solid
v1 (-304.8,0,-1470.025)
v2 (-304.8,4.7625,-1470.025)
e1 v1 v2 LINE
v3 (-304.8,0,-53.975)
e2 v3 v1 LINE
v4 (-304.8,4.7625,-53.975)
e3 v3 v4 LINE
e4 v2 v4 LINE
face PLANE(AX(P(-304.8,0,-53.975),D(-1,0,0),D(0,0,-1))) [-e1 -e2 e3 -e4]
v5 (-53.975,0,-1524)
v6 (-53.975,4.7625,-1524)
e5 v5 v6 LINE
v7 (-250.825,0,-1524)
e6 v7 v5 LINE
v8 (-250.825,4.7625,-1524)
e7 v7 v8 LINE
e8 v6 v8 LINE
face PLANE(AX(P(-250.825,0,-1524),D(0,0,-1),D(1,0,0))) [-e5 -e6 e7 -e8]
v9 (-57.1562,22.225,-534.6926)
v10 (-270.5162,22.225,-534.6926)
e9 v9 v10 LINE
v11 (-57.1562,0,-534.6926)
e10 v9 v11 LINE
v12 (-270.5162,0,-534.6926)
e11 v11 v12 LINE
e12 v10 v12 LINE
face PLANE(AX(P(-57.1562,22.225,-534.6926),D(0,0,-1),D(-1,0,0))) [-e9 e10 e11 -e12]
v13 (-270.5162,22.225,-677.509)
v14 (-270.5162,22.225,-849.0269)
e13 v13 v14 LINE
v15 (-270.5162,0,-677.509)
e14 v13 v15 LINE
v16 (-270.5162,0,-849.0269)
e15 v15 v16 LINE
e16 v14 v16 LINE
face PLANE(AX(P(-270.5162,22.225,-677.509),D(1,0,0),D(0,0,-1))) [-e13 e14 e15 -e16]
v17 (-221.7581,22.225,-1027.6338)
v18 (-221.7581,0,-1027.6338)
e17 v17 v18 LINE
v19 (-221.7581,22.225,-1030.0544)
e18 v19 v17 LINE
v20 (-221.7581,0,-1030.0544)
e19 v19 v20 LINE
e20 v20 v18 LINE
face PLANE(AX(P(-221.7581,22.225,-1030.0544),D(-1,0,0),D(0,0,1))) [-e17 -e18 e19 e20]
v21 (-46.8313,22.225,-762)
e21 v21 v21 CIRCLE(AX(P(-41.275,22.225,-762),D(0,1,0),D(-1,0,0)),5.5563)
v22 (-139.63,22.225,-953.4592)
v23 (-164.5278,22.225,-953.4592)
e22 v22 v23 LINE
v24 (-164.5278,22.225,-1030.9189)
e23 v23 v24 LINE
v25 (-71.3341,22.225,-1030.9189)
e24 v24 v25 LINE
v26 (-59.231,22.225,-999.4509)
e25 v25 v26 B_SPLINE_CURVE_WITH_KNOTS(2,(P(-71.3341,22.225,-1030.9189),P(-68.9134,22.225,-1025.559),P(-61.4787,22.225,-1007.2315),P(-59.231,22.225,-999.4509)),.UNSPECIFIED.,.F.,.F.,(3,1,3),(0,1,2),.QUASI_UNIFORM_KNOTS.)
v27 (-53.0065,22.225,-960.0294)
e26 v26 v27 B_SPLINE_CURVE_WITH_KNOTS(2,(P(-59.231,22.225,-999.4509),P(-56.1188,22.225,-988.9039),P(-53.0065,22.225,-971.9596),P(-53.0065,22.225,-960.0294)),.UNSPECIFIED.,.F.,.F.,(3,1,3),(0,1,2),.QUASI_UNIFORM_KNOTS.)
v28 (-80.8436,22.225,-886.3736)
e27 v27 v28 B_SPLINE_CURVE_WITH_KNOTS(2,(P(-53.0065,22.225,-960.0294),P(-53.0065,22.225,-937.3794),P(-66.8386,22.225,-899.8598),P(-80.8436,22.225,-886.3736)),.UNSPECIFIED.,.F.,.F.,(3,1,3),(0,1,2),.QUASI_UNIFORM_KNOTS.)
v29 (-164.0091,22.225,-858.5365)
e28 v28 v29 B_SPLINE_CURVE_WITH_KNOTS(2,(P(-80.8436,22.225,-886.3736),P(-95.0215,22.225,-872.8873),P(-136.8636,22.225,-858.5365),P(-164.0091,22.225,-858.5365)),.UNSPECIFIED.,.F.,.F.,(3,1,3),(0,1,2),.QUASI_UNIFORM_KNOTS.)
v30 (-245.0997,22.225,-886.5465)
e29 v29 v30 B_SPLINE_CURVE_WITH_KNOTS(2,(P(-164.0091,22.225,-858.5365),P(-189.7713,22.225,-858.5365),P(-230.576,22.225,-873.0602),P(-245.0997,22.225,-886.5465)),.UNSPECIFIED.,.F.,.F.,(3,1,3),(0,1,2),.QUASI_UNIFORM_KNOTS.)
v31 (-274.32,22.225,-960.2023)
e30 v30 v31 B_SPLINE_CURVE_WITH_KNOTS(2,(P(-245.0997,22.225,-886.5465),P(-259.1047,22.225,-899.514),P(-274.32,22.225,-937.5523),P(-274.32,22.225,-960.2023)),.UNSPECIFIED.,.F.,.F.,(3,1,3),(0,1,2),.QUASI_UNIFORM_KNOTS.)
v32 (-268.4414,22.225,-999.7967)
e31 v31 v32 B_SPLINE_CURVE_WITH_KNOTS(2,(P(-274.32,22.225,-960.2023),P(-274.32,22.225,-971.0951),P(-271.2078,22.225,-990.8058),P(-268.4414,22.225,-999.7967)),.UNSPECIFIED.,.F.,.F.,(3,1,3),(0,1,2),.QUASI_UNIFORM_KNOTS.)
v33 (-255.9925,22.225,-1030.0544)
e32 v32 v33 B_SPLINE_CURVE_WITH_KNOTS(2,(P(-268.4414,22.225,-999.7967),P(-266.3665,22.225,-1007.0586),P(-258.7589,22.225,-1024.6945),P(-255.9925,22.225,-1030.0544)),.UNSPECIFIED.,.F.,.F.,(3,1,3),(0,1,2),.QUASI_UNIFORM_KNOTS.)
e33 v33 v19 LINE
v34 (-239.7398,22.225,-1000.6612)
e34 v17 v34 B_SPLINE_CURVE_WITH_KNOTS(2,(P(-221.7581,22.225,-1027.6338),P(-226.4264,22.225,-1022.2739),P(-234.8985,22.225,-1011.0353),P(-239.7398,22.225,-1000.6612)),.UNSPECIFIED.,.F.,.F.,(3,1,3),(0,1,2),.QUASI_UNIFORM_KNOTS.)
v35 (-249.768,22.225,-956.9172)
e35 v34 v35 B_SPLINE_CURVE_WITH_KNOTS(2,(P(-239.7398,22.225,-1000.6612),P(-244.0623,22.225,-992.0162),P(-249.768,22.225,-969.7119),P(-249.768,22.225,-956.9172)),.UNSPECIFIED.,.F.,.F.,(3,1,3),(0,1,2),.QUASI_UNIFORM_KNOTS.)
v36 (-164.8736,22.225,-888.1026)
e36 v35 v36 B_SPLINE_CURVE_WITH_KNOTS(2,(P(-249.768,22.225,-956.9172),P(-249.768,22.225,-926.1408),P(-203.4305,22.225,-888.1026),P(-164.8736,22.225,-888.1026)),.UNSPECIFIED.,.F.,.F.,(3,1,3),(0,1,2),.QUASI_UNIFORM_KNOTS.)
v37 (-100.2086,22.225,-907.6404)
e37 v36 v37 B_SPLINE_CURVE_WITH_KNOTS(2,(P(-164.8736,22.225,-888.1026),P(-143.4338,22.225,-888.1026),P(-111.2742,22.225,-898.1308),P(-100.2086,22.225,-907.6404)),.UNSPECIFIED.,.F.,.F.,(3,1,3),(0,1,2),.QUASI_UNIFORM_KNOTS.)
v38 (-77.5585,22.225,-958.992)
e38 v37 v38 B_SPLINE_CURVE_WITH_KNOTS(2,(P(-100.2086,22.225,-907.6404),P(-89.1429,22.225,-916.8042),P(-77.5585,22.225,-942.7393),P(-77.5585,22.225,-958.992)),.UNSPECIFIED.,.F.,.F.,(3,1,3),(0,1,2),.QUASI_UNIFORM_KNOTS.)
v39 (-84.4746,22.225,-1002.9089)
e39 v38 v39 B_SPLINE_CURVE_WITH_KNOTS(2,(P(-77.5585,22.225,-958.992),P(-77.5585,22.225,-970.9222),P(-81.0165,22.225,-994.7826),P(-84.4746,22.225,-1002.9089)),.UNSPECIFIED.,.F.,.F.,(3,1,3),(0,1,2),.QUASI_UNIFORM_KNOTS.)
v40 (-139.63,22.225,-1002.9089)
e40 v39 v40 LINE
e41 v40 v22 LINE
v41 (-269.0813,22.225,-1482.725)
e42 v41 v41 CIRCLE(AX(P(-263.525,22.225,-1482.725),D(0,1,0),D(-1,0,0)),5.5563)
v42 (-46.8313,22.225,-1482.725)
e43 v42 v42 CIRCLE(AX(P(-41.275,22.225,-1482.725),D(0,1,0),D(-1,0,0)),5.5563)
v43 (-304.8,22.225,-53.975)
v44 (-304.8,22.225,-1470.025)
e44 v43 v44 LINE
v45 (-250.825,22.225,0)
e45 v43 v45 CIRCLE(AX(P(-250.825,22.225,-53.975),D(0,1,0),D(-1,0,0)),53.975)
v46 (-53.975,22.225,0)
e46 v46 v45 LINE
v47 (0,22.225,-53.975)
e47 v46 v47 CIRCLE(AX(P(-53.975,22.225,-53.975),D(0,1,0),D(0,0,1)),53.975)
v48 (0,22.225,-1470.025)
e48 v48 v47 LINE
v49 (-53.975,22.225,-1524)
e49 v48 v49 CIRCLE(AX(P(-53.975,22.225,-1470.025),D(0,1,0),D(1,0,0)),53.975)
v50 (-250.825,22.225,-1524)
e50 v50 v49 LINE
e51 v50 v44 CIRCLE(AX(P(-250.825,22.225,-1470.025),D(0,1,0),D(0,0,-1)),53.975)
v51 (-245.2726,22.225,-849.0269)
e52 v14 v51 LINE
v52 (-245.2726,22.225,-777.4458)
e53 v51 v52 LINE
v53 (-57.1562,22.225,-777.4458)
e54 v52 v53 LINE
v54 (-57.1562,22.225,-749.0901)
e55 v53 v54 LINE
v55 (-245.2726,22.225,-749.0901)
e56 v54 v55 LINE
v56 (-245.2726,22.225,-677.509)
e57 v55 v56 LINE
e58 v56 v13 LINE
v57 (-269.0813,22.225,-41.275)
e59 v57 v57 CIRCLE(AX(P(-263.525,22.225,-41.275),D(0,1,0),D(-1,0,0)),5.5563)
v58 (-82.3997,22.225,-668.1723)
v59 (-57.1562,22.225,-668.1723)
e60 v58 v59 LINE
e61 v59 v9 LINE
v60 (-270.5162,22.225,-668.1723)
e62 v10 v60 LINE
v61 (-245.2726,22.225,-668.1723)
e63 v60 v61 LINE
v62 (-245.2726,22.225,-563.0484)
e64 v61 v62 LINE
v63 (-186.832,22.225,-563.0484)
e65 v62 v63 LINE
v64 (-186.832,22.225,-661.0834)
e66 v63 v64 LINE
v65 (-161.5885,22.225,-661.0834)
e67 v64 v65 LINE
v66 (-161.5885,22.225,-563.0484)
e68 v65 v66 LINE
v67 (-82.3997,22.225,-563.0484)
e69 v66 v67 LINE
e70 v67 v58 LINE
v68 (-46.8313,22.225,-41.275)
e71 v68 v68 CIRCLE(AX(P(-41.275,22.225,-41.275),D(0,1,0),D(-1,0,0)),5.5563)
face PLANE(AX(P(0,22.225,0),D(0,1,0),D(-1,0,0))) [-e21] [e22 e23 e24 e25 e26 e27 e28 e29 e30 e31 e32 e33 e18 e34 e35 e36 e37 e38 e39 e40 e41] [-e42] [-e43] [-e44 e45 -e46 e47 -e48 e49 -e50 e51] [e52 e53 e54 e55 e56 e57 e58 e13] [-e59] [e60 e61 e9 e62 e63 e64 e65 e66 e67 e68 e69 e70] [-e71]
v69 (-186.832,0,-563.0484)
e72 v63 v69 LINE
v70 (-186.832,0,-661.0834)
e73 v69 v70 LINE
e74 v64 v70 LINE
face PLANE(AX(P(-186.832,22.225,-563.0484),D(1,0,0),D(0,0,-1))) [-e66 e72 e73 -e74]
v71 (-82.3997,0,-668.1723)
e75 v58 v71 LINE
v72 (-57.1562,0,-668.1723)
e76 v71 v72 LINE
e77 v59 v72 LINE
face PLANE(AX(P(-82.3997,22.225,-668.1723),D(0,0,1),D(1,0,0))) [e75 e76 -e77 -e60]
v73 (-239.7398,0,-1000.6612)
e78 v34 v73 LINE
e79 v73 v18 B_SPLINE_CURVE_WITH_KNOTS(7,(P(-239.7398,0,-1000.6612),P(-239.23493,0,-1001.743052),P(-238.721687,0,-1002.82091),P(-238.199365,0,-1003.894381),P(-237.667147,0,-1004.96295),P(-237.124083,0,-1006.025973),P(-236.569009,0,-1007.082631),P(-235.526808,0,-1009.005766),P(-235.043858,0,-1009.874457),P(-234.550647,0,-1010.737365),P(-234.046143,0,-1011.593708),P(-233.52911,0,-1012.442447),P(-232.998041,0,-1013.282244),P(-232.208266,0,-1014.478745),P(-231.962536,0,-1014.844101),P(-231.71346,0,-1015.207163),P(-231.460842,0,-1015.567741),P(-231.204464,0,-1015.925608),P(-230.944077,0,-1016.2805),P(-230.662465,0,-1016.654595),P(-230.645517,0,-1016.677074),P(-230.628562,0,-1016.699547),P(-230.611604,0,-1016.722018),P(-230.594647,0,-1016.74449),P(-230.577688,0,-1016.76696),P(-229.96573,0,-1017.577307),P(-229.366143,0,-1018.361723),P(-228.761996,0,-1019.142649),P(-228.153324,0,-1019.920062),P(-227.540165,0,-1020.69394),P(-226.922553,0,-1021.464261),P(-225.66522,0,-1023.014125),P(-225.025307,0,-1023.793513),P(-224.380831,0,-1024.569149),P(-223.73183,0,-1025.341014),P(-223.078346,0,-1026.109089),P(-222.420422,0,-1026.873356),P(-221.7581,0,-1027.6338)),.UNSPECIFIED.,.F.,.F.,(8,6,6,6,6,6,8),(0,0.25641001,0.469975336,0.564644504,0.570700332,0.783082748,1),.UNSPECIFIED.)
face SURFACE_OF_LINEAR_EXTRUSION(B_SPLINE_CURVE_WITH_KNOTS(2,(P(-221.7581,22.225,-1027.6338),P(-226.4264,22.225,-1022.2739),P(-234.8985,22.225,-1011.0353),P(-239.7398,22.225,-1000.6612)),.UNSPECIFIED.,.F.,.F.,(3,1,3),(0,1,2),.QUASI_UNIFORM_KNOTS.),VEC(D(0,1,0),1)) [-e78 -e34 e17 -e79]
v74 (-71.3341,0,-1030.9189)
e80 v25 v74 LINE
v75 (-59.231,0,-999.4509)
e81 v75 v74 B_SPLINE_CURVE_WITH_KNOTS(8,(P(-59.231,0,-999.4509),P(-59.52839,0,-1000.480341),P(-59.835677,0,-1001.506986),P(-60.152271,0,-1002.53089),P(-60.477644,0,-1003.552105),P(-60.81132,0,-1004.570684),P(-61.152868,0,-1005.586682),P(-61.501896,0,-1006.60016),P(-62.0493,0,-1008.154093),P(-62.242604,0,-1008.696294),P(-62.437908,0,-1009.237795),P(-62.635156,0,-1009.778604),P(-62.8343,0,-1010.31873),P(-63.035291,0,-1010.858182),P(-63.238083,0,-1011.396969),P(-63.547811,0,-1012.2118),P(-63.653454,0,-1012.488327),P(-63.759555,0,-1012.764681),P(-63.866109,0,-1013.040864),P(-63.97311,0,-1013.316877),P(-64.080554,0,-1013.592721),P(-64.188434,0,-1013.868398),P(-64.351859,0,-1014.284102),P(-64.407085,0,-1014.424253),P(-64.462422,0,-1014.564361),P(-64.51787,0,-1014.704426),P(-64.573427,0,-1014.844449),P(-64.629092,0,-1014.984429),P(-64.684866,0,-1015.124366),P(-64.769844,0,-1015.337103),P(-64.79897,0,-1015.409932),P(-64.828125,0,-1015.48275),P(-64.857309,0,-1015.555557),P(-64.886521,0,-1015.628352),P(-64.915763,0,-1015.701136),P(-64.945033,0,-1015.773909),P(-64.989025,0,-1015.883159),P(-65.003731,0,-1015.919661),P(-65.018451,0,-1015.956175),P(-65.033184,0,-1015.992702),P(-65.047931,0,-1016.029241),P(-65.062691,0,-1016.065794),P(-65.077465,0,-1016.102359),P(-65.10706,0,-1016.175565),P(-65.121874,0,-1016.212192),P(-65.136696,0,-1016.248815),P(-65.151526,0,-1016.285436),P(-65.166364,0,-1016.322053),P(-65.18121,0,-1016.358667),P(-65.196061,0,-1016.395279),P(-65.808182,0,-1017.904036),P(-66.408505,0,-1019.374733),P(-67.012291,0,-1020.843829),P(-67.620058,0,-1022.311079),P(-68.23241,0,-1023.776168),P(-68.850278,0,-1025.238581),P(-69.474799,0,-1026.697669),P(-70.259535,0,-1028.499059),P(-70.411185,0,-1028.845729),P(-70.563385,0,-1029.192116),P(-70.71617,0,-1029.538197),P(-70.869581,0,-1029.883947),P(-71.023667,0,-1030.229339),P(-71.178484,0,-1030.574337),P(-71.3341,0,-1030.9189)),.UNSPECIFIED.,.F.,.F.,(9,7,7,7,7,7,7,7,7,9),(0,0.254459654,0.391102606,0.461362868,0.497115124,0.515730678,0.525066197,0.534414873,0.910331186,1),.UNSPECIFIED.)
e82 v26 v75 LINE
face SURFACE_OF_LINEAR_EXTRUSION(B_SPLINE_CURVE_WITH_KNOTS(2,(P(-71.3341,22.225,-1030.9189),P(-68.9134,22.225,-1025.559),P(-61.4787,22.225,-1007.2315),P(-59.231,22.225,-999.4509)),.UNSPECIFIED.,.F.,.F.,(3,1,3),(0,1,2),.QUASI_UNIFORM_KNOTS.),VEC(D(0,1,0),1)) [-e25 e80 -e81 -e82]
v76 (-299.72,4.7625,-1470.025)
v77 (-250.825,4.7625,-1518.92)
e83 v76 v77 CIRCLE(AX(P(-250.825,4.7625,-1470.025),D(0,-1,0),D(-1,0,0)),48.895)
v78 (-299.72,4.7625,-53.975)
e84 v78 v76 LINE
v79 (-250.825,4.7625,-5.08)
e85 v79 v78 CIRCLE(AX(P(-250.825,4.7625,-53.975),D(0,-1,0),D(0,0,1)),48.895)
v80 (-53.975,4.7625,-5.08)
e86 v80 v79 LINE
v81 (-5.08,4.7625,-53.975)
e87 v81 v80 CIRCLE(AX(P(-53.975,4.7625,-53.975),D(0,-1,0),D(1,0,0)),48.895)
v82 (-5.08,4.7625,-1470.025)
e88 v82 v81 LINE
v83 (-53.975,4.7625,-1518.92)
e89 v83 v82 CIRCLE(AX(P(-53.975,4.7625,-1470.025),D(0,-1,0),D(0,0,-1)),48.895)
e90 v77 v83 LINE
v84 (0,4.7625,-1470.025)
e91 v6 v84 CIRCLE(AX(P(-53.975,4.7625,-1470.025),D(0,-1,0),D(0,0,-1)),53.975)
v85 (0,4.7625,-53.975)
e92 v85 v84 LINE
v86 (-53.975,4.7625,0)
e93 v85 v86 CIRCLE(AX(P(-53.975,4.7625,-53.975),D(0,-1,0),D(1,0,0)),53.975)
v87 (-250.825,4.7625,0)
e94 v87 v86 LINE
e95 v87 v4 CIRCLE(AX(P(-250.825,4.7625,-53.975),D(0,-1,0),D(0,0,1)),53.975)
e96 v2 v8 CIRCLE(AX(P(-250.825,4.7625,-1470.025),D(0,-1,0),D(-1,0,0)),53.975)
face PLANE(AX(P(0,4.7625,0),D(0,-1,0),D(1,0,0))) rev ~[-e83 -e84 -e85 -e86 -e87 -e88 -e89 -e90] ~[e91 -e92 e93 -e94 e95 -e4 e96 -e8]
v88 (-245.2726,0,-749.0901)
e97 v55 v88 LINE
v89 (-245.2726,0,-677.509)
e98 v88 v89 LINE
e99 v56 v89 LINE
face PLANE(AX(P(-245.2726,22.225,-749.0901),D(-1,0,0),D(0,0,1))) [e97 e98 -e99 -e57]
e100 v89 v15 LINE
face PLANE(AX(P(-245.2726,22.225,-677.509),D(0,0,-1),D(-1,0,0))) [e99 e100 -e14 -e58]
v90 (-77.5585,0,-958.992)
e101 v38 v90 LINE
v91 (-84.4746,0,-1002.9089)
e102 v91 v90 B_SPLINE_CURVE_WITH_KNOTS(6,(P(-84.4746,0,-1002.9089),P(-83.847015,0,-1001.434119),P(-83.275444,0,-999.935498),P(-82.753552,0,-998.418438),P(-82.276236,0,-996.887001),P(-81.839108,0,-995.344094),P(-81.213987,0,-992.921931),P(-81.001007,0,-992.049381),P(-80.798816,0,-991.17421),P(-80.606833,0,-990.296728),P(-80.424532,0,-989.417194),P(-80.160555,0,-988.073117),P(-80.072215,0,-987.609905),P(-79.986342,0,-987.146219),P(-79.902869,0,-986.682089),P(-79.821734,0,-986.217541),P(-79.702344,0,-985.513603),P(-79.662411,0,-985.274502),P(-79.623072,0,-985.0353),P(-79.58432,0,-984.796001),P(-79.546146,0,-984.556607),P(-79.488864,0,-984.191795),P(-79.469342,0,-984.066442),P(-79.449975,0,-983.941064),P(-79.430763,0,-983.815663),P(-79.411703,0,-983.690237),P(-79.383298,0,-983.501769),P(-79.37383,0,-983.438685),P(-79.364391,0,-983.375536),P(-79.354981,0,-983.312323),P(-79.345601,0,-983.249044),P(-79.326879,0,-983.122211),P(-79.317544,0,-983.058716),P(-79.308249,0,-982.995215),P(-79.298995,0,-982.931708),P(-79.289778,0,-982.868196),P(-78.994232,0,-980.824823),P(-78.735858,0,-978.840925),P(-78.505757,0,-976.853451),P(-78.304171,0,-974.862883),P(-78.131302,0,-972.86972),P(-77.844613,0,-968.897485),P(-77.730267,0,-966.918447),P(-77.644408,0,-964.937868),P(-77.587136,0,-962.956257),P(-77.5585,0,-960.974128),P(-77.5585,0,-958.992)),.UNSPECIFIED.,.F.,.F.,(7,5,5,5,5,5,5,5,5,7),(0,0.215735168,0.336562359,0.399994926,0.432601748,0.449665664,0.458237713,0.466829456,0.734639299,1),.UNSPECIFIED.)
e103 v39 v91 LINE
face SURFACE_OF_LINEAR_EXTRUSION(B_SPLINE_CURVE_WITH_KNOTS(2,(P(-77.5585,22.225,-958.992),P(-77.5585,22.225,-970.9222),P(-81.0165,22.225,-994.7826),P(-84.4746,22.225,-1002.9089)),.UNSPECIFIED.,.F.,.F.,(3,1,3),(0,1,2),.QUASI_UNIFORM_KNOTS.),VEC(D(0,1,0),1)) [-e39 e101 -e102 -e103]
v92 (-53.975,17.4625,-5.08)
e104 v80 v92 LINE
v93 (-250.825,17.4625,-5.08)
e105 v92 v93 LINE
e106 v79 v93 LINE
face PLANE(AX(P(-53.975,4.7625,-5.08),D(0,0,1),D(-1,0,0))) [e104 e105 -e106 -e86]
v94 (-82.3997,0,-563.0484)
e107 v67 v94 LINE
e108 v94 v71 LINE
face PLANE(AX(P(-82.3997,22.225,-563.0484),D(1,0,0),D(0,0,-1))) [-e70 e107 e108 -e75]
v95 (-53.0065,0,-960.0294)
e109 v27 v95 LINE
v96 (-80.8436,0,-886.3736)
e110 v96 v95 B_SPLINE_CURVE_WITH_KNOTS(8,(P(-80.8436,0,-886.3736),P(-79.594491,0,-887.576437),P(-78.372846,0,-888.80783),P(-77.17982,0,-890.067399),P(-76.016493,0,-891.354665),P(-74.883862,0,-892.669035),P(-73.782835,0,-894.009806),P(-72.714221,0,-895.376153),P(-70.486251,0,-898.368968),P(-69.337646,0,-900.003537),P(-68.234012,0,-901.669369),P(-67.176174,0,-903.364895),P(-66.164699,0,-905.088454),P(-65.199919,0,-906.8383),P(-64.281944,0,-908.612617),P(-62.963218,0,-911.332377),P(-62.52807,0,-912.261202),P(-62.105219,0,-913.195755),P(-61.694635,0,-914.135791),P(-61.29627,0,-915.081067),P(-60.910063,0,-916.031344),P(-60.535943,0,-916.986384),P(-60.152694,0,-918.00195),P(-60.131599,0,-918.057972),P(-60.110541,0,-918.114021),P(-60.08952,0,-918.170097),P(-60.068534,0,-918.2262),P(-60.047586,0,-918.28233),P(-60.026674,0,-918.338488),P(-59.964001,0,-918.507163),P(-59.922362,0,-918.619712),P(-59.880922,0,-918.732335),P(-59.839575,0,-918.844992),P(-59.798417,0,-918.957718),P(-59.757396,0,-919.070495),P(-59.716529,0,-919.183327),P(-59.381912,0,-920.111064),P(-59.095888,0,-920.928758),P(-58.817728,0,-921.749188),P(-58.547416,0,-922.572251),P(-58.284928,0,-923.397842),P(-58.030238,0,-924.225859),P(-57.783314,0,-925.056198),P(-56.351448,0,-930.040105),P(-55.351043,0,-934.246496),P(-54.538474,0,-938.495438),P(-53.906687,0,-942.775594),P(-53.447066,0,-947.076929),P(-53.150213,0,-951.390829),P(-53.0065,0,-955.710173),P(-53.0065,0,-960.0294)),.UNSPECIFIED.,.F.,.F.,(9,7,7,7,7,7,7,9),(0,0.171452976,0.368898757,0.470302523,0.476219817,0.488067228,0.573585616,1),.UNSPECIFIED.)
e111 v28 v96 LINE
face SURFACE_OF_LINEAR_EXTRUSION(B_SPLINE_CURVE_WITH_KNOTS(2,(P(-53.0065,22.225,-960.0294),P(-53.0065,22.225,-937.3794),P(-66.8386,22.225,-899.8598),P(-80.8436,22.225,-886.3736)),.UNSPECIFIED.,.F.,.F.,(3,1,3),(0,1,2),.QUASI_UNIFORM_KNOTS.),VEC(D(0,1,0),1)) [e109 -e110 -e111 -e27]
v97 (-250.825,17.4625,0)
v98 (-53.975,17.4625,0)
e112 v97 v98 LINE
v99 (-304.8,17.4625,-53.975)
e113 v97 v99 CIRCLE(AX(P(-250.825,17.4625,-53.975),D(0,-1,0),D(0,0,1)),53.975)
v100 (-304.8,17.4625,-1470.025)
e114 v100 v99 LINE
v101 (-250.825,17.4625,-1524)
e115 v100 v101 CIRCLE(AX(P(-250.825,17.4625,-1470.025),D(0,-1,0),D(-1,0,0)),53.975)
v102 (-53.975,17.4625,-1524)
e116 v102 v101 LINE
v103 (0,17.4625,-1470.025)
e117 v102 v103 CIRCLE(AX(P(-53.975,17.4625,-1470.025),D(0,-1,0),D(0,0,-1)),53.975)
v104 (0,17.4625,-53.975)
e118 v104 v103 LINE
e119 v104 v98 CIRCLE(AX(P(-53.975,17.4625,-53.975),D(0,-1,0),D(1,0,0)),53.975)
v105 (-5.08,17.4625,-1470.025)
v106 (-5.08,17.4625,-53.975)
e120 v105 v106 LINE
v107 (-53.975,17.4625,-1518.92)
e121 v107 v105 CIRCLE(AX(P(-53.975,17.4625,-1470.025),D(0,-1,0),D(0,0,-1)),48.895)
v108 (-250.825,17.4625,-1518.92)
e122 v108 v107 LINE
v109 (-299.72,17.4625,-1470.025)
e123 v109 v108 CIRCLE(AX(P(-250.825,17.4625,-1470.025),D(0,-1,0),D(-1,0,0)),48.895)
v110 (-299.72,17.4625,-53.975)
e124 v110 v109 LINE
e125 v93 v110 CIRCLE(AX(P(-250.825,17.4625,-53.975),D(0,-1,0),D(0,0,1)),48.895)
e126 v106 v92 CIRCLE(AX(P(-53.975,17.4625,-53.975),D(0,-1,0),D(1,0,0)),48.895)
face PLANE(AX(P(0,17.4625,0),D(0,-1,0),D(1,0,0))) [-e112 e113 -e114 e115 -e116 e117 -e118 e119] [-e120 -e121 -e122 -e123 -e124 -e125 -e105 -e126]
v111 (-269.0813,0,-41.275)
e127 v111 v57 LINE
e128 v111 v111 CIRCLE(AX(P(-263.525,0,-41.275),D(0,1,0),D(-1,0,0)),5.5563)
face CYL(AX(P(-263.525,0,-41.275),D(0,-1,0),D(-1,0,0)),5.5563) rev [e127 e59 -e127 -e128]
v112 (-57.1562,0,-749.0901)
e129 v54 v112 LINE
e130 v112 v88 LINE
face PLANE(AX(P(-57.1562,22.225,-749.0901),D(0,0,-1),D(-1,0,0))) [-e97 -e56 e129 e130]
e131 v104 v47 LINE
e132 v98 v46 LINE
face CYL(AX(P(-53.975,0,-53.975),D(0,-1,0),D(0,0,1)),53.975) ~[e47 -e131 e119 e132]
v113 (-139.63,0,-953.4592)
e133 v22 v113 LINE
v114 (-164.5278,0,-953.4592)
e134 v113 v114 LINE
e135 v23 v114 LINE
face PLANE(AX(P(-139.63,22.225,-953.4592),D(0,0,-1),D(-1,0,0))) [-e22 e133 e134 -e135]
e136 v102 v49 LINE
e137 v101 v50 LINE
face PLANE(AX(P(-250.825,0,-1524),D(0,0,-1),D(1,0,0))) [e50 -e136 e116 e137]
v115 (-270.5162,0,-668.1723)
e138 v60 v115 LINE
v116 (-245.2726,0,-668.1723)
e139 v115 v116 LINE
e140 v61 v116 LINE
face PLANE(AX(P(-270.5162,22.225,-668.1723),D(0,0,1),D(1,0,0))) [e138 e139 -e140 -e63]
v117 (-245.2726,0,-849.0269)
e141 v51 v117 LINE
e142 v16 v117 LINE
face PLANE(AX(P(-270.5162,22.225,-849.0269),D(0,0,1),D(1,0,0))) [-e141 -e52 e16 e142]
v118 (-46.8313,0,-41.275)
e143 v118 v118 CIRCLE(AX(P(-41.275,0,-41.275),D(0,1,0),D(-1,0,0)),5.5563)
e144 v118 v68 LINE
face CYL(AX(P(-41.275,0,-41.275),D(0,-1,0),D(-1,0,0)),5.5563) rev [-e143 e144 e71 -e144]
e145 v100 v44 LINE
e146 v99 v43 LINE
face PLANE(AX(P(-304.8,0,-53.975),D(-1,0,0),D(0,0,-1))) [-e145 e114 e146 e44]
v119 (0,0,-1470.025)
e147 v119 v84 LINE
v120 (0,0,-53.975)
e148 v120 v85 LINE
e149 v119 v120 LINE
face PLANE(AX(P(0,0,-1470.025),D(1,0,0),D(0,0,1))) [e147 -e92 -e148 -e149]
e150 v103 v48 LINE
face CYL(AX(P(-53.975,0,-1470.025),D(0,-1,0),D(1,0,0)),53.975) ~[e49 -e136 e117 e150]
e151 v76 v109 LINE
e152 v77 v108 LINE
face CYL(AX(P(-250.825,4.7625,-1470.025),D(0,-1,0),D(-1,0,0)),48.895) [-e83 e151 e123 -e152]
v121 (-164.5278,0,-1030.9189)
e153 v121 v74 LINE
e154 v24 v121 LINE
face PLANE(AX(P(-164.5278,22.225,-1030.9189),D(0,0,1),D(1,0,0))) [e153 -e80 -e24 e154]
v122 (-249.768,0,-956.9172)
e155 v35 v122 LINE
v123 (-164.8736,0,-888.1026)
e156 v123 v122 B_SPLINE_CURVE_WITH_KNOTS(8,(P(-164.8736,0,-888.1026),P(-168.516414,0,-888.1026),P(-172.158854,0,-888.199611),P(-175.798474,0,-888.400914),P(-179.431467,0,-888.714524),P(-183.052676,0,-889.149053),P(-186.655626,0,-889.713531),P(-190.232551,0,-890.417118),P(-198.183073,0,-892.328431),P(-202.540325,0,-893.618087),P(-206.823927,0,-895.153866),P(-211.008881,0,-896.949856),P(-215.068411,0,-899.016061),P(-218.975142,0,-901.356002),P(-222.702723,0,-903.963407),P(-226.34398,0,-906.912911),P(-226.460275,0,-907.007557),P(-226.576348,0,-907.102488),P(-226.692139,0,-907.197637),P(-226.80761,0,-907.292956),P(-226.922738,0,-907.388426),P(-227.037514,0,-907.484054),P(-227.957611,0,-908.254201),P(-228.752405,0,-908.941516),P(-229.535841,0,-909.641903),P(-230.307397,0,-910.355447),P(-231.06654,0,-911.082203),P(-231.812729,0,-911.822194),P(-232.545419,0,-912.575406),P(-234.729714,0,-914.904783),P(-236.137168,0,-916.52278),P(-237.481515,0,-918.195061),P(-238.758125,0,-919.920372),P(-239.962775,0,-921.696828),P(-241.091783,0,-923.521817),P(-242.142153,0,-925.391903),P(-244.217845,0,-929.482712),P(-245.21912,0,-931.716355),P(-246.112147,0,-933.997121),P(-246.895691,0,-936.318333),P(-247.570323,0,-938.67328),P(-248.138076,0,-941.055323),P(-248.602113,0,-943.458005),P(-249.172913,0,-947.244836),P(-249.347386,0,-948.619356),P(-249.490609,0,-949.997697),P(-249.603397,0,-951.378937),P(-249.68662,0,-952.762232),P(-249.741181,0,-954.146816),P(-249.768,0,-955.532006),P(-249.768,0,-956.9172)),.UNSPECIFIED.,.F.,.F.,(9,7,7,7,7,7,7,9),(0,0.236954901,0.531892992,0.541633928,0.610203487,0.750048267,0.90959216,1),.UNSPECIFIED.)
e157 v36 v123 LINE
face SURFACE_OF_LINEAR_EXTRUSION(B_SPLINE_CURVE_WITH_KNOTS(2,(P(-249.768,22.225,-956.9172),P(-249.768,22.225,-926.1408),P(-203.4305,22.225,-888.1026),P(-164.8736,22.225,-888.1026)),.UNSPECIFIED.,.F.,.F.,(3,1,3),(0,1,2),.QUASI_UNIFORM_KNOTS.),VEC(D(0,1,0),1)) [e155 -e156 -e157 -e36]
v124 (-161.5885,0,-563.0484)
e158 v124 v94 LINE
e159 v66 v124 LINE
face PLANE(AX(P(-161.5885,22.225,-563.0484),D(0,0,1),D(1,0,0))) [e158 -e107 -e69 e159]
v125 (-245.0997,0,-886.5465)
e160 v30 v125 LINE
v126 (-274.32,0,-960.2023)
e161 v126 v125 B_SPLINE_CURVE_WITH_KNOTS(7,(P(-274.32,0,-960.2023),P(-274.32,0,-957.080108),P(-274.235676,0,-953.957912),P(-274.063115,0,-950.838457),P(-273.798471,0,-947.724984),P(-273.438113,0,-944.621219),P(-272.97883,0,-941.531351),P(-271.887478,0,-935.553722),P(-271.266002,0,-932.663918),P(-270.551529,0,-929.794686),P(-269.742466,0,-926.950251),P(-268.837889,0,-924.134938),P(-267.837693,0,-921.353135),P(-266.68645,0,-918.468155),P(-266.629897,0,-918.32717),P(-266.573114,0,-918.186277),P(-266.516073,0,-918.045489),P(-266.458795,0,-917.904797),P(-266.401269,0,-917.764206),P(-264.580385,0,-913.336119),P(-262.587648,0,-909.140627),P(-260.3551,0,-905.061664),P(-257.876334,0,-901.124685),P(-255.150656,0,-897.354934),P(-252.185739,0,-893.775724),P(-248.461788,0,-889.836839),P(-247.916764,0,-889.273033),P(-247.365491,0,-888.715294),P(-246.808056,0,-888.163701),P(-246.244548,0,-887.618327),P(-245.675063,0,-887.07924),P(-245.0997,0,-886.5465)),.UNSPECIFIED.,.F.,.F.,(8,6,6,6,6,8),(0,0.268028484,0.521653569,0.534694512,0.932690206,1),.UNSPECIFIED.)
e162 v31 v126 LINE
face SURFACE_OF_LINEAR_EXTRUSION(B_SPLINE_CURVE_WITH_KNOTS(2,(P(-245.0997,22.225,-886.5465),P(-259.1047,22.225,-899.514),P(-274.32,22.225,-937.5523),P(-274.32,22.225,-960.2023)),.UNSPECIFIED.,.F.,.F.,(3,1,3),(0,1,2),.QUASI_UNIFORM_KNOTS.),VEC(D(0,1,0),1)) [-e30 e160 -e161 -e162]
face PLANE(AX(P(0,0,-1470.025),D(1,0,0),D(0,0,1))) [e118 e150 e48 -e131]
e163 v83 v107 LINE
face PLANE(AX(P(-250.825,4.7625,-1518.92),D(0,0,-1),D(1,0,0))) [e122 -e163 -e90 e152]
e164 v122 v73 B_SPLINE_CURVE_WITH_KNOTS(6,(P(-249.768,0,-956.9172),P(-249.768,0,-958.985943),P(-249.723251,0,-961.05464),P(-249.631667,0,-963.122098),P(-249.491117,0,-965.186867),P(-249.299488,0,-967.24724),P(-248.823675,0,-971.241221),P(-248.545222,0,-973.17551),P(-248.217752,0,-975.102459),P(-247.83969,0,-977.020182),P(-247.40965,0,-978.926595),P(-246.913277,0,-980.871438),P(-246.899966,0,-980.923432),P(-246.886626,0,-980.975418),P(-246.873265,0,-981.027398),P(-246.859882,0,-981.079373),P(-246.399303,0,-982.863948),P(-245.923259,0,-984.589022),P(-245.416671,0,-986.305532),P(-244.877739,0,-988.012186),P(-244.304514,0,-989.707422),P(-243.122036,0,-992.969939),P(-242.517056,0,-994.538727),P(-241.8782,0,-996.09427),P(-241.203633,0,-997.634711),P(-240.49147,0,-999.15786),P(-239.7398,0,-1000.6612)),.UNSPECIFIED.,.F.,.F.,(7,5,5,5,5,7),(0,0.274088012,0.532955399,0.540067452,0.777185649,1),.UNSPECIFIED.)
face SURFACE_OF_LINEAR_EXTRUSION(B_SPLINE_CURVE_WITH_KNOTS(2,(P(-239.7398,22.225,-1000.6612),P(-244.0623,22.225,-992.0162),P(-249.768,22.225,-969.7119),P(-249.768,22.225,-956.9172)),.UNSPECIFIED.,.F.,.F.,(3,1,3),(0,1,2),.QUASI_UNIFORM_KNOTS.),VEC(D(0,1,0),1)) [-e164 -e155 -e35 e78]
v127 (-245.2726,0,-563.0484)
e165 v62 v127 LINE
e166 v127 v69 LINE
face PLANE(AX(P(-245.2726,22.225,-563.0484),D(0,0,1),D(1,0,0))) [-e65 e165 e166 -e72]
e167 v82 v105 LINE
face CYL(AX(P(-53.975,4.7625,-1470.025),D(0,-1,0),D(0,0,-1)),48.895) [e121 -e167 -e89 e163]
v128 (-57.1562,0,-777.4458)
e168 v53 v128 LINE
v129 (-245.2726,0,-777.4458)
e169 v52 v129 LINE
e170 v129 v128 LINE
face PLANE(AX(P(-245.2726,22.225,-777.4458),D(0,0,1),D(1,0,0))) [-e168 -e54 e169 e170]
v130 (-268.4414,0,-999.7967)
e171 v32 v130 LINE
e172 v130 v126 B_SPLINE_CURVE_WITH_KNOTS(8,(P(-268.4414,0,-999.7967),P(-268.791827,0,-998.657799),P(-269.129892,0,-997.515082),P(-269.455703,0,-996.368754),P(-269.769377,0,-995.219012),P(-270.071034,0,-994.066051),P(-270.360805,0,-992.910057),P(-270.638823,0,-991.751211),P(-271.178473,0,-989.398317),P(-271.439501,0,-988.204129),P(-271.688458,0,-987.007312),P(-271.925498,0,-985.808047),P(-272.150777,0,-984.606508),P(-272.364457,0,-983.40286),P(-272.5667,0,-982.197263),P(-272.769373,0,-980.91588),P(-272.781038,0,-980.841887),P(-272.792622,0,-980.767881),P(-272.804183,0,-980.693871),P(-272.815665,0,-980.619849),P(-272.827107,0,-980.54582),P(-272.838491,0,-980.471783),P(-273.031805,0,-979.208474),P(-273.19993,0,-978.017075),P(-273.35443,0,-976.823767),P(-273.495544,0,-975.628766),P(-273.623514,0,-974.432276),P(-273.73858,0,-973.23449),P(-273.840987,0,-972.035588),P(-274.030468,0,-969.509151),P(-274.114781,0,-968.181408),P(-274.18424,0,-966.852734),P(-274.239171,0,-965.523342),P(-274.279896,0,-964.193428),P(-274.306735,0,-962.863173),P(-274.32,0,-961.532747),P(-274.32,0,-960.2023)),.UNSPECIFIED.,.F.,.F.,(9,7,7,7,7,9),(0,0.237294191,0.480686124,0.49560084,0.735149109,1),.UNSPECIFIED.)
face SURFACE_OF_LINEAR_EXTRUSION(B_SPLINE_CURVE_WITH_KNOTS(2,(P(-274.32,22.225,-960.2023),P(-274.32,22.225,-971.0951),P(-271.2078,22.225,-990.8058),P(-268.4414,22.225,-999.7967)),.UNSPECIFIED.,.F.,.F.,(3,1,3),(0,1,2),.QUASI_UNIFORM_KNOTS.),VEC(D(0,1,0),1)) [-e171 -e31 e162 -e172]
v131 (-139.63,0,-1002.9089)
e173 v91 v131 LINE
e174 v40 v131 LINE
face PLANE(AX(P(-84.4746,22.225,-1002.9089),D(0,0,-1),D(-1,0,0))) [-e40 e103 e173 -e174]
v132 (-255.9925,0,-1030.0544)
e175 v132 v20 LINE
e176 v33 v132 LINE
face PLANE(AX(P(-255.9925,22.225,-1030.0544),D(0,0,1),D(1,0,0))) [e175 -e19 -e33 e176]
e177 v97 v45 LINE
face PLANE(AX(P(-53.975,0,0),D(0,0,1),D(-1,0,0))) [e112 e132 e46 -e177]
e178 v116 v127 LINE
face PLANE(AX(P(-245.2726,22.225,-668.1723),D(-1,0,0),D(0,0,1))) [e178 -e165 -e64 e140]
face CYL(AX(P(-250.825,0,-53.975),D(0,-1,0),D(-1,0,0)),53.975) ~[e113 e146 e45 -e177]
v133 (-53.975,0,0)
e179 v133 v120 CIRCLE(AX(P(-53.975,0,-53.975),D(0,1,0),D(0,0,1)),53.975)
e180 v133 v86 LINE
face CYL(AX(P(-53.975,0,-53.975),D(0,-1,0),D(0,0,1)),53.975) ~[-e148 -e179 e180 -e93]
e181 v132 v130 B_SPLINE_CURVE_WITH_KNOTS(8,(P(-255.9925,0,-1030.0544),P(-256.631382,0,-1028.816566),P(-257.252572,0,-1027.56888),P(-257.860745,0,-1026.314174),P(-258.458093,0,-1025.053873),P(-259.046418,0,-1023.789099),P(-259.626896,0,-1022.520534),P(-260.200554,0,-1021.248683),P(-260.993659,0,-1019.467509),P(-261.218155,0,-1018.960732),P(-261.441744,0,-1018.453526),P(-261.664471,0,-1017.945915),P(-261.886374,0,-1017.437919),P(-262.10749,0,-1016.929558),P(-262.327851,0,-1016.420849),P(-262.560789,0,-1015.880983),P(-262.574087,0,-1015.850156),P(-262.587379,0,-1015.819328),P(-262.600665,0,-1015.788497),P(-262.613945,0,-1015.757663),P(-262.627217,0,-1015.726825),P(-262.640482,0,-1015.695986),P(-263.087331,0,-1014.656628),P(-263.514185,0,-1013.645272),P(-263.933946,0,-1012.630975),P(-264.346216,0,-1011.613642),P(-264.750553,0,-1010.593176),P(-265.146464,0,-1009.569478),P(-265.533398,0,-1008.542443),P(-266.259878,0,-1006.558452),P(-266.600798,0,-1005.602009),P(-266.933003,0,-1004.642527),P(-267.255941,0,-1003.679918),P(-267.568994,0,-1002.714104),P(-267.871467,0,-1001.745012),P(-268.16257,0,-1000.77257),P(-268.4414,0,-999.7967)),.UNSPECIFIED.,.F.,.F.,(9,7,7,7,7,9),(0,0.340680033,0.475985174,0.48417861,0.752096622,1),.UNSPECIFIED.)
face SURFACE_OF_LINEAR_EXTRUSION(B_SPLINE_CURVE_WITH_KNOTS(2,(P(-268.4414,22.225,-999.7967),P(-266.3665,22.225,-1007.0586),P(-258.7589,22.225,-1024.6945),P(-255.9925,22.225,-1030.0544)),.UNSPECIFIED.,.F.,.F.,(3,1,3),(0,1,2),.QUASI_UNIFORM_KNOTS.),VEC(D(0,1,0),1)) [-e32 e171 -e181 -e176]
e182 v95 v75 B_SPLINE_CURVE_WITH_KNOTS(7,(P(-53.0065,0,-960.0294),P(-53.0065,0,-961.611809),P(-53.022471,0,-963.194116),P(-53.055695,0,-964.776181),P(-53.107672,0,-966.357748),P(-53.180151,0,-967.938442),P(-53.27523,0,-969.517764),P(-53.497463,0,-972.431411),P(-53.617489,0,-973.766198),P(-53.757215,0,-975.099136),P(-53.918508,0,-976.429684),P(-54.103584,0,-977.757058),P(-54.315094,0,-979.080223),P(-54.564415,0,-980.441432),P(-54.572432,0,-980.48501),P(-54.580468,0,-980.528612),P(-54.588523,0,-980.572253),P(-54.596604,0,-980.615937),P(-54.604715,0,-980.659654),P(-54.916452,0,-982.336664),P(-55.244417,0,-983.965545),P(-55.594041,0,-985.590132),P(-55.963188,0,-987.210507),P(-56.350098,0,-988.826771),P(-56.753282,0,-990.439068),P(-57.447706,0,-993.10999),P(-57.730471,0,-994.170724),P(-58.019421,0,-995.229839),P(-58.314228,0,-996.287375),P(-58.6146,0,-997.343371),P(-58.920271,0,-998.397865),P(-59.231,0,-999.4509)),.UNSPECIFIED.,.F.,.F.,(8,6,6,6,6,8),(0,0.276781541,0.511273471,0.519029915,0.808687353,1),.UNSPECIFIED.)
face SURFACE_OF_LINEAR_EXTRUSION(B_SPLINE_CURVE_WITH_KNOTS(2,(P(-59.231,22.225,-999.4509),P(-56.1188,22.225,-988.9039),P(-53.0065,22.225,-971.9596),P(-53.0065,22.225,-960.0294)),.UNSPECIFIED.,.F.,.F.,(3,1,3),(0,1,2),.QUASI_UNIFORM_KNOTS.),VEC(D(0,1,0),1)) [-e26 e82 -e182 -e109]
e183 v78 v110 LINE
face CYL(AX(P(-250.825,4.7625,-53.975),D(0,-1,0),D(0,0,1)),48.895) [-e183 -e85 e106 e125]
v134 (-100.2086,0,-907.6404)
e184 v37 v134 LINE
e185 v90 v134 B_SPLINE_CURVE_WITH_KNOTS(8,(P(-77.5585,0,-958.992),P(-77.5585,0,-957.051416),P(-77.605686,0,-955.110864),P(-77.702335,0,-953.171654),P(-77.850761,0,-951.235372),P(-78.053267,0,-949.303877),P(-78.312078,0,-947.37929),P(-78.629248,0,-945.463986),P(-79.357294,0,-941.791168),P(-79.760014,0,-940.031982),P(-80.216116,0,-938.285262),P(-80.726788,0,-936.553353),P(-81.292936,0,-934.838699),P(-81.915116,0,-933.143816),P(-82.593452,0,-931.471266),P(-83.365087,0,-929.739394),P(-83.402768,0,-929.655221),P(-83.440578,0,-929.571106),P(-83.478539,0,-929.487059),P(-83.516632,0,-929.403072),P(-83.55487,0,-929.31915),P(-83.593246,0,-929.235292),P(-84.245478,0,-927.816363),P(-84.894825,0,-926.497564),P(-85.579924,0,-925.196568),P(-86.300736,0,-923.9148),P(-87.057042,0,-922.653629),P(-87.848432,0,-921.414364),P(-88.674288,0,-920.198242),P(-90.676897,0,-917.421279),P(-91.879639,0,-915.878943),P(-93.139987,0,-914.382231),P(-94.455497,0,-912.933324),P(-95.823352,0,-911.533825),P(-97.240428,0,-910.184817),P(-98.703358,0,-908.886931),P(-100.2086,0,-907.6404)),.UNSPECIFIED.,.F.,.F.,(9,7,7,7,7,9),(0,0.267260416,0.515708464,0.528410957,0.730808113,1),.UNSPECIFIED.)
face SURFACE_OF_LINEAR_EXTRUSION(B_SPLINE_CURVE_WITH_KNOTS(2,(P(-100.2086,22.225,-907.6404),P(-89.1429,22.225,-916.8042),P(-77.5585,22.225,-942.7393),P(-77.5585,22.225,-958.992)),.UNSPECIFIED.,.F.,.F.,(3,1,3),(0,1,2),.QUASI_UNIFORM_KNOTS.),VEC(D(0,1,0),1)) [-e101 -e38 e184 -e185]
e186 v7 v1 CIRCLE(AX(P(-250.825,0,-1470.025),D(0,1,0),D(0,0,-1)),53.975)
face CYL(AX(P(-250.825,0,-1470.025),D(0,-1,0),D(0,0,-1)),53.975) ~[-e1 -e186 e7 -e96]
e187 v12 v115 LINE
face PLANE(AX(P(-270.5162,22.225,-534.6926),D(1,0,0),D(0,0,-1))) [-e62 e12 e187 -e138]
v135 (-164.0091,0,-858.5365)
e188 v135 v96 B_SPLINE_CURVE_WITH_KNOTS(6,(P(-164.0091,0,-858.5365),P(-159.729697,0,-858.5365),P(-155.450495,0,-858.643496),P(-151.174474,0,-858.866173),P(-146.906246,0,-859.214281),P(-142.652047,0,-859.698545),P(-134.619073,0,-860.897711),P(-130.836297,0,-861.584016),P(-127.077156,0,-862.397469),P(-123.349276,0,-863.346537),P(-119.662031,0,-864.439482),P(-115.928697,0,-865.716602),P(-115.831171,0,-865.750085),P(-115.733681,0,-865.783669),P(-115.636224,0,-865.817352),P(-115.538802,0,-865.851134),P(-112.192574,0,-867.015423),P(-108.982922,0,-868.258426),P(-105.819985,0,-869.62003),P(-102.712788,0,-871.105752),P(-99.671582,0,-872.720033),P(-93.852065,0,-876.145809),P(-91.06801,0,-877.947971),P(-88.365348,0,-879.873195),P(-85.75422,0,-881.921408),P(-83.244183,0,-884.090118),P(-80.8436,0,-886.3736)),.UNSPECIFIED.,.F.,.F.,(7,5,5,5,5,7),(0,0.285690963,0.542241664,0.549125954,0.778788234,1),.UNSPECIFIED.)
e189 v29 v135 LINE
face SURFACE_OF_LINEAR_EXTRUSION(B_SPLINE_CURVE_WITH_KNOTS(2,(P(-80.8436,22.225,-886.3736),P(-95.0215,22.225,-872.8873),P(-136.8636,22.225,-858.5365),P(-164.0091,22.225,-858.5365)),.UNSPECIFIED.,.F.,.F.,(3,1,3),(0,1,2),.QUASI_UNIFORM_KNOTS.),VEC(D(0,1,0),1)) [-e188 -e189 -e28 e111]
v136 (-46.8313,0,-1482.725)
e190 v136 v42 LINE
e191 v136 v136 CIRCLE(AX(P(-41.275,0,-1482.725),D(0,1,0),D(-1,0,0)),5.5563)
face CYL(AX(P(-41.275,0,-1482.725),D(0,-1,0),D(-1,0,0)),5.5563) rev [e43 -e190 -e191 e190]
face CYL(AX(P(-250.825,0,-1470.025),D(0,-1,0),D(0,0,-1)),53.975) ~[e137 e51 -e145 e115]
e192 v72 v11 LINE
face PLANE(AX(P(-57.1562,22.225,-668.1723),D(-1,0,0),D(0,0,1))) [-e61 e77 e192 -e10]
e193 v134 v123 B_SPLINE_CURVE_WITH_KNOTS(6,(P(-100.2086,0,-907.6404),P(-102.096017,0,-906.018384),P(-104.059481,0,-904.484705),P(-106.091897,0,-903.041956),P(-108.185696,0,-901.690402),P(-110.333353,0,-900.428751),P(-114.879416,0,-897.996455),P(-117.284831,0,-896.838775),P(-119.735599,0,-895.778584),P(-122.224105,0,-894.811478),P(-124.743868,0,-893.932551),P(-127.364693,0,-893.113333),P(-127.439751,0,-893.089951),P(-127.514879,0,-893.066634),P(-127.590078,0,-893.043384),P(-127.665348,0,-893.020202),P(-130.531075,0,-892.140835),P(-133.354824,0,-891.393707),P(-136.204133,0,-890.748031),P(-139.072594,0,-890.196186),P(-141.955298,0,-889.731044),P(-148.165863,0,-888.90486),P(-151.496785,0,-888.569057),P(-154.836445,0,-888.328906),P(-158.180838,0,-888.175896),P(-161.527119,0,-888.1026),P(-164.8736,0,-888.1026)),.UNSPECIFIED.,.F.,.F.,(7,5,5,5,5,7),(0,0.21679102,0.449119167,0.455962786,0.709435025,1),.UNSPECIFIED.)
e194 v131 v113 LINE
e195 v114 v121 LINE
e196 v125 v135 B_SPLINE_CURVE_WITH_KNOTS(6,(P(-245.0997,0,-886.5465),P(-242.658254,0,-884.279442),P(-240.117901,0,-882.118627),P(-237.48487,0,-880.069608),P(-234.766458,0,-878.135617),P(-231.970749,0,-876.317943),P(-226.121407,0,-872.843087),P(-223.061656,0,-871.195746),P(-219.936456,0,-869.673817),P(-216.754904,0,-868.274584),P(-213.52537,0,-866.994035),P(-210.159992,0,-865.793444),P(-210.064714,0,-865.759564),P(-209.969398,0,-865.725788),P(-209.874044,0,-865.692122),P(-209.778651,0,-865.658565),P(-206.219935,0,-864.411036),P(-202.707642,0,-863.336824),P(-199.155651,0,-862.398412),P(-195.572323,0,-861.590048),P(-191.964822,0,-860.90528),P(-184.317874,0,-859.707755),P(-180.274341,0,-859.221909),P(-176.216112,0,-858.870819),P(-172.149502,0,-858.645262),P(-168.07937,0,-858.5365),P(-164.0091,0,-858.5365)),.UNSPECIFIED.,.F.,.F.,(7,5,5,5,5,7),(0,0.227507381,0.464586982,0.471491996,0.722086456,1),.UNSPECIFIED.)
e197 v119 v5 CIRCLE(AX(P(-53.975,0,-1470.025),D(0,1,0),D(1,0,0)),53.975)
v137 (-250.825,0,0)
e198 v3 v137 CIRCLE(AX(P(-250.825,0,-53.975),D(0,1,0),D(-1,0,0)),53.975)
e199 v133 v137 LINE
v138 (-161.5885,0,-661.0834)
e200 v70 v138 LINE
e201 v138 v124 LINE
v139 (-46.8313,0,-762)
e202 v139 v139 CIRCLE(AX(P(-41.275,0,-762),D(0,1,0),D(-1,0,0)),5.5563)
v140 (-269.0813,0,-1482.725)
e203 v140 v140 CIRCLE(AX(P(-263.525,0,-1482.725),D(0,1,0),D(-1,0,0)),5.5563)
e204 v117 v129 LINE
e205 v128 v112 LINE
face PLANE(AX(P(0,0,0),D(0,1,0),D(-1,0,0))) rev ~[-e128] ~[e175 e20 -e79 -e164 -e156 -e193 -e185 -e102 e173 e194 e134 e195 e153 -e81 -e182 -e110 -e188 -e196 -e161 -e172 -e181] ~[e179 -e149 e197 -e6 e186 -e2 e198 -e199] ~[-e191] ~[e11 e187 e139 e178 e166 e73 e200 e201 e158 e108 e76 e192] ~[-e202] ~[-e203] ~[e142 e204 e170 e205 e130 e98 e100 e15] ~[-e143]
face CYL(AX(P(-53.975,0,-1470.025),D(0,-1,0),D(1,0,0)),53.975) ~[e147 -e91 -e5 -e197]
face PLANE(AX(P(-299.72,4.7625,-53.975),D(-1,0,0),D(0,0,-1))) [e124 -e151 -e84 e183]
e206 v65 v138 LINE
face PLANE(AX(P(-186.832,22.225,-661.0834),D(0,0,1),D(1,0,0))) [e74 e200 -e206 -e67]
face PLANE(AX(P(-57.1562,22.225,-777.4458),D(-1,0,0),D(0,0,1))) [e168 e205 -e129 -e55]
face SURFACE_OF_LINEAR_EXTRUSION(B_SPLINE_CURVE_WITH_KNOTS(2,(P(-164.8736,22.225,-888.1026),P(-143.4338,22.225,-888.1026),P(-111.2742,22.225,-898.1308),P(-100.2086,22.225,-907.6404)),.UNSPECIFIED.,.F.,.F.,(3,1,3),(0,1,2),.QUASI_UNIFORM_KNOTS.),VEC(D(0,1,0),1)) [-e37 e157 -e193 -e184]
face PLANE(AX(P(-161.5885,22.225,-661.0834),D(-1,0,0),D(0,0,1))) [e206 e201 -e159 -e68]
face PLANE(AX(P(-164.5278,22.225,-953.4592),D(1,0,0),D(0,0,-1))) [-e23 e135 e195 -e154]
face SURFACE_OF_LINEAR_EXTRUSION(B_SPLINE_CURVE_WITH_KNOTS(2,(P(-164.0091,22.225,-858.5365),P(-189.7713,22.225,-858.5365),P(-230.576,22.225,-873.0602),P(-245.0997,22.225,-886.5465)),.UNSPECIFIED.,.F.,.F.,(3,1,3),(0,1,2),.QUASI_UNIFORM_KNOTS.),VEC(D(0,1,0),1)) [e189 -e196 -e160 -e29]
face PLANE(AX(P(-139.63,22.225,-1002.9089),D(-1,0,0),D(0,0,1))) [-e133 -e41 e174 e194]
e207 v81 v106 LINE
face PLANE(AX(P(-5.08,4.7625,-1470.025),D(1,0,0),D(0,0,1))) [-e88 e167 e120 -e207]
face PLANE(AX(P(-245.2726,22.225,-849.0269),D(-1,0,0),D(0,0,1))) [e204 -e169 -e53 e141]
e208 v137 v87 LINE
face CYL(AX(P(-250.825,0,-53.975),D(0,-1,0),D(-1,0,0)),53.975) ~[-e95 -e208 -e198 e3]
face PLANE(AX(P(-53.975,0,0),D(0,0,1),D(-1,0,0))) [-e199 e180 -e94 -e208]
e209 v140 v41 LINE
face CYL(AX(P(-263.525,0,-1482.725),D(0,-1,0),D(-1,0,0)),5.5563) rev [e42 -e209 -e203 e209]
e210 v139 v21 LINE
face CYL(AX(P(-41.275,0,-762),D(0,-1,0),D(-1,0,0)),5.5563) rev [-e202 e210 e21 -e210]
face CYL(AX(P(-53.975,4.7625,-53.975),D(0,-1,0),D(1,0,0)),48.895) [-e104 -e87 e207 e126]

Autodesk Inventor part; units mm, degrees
ref_plane "YZ Plane" through (0, 0, 0) normal (1, 0, 0) x (0, 1, 0)
ref_plane "XZ Plane" through (0, 0, 0) normal (0, 1, 0) x (-1, 0, 0)
ref_plane "XY Plane" through (0, 0, 0) normal (0, 0, 1) x (1, 0, 0)
sketch "Sketch1" plane through (0, 0, 0) normal (0, 1, 0) x (-1, 0, 0)
  line L0 (53.975, 0) -> (250.825, 0)
  line L1 (304.8, -53.975) -> (304.8, -1470.025)
  line L2 (250.825, -1524) -> (53.975, -1524)
  line L3 (0, -1470.025) -> (0, -53.975)
  circle A0 centre (263.525, -41.275) radius 5.5563
  circle A1 centre (263.525, -762) radius 5.5563
  circle A2 centre (263.525, -1482.725) radius 5.5563
  circle A3 centre (41.275, -41.275) radius 5.5563
  circle A4 centre (41.275, -762) radius 5.5563
  circle A5 centre (41.275, -1482.725) radius 5.5563
  arc A6 (304.8, -53.975) -> (250.825, 0) centre (250.825, -53.975) ccw
  arc A7 (0, -1470.025) -> (53.975, -1524) centre (53.975, -1470.025) ccw
  arc A8 (250.825, -1524) -> (304.8, -1470.025) centre (250.825, -1470.025) ccw
  arc A9 (53.975, 0) -> (0, -53.975) centre (53.975, -53.975) ccw
  point P0 (0, 0)
  point P1 (304.8, -1524)
  point P2 (0, -1524)
  dimension "d0" = 304.8
  dimension "d1" = 1524
  dimension "d2" = 11.1125
  dimension "d5" = 720.725
  dimension "d8" = 222.25
  dimension "d11" = 41.275
  dimension "d12" = 41.275
  dimension "d13" = 53.975
extrude "Extrusion1" add sketch "Sketch1" along normal blind 22.225
ref_plane "Work Plane3" through (0, 17.4625, 0) normal (0, 1, 0) x (1, 0, 0)
sketch "Sketch2" plane through (0, 17.4625, 0) normal (0, 1, 0) x (1, 0, 0)
  circle A0 centre (-41.275, 1482.725) radius 5.5562 projected
  circle A1 centre (-41.275, 762) radius 5.5562 projected
  circle A2 centre (-41.275, 41.275) radius 5.5562 projected
  circle A3 centre (-263.525, 1482.725) radius 5.5562 projected
  circle A4 centre (-263.525, 762) radius 5.5562 projected
  circle A5 centre (-263.525, 41.275) radius 5.5562 projected
  line L0 (-250.825, 0) -> (-53.975, 0) projected
  arc A6 (-53.975, 0) -> (0, 53.975) centre (-53.975, 53.975) ccw projected
  line L1 (0, 53.975) -> (0, 1470.025) projected
  arc A7 (0, 1470.025) -> (-53.975, 1524) centre (-53.975, 1470.025) ccw projected
  line L2 (-53.975, 1524) -> (-250.825, 1524) projected
  arc A8 (-250.825, 1524) -> (-304.8, 1470.025) centre (-250.825, 1470.025) ccw projected
  line L3 (-304.8, 1470.025) -> (-304.8, 53.975) projected
  arc A9 (-304.8, 53.975) -> (-250.825, 0) centre (-250.825, 53.975) ccw projected
  line L4 (0, 53.975) -> (0, 1470.025)
  arc A10 (-250.825, 1524) -> (-304.8, 1470.025) centre (-250.825, 1470.025) ccw projected
  line L5 (-53.975, 1524) -> (-250.825, 1524)
  line L6 (-304.8, 1470.025) -> (-304.8, 53.975) projected
  line L7 (-304.8, 1470.025) -> (-304.8, 53.975)
  line L8 (-250.825, 0) -> (-53.975, 0)
  point P0 (0, 0)
ref_plane "Work Plane4" through (0, 4.7625, 0) normal (0, -1, 0) x (1, 0, 0)
sketch "Sketch3" plane through (0, 4.7625, 0) normal (0, -1, 0) x (1, 0, 0)
  circle A0 centre (-41.275, -1482.725) radius 5.5562 projected
  circle A1 centre (-41.275, -762) radius 5.5562 projected
  circle A2 centre (-41.275, -41.275) radius 5.5562 projected
  circle A3 centre (-263.525, -1482.725) radius 5.5562 projected
  circle A4 centre (-263.525, -762) radius 5.5562 projected
  circle A5 centre (-263.525, -41.275) radius 5.5562 projected
  line L0 (-250.825, 0) -> (-53.975, 0) projected
  arc A6 (0, -53.975) -> (-53.975, 0) centre (-53.975, -53.975) ccw projected
  line L1 (0, -53.975) -> (0, -1470.025) projected
  arc A7 (-53.975, -1524) -> (0, -1470.025) centre (-53.975, -1470.025) ccw projected
  line L2 (-53.975, -1524) -> (-250.825, -1524) projected
  arc A8 (-304.8, -1470.025) -> (-250.825, -1524) centre (-250.825, -1470.025) ccw projected
  line L3 (-304.8, -1470.025) -> (-304.8, -53.975) projected
  arc A9 (-250.825, 0) -> (-304.8, -53.975) centre (-250.825, -53.975) ccw projected
  line L4 (-299.72, -53.975) -> (-299.72, -1470.025)
  arc A10 (-299.72, -1470.025) -> (-250.825, -1518.92) centre (-250.825, -1470.025) ccw
  line L5 (-250.825, -1518.92) -> (-53.975, -1518.92)
  arc A11 (-53.975, -1518.92) -> (-5.08, -1470.025) centre (-53.975, -1470.025) ccw
  line L6 (-5.08, -1470.025) -> (-5.08, -53.975)
  arc A12 (-5.08, -53.975) -> (-53.975, -5.08) centre (-53.975, -53.975) ccw
  line L7 (-53.975, -5.08) -> (-250.825, -5.08)
  arc A13 (-250.825, -5.08) -> (-299.72, -53.975) centre (-250.825, -53.975) ccw
  point P0 (0, 0)
  dimension "d26" = 5.08
sketch "Sketch8" plane through (0, 22.225, 0) normal (0, 1, 0) x (1, 0, 0)
  arc A0 (-53.975, 0) -> (0, 53.975) centre (-53.975, 53.975) ccw projected
  line L0 (-250.825, 0) -> (-53.975, 0) projected
  line L1 (-53.975, 0) -> (-250.825, 0)
  arc A1 (-304.8, 53.975) -> (-250.825, 0) centre (-250.825, 53.975) ccw projected
  arc A2 (-250.825, 1524) -> (-304.8, 1470.025) centre (-250.825, 1470.025) ccw projected
  line L2 (-304.8, 53.975) -> (-304.8, 1470.025)
  line L3 (-53.975, 1524) -> (-250.825, 1524) projected
  line L4 (-250.825, 1524) -> (-53.975, 1524)
  arc A3 (0, 1470.025) -> (-53.975, 1524) centre (-53.975, 1470.025) ccw projected
  line L5 (0, 1470.025) -> (0, 53.975)
  arc A4 (-53.975, 0) -> (0, 53.975) centre (-53.975, 53.975) ccw
  arc A5 (-304.8, 53.975) -> (-250.825, 0) centre (-250.825, 53.975) ccw
  arc A6 (-250.825, 1524) -> (-304.8, 1470.025) centre (-250.825, 1470.025) ccw
  arc A7 (0, 1470.025) -> (-53.975, 1524) centre (-53.975, 1470.025) ccw
  line L6 (-299.72, 1470.025) -> (-299.72, 53.975)
  arc A8 (-299.72, 53.975) -> (-250.825, 5.08) centre (-250.825, 53.975) ccw
  line L7 (-250.825, 5.08) -> (-53.975, 5.08)
  arc A9 (-53.975, 5.08) -> (-5.08, 53.975) centre (-53.975, 53.975) ccw
  line L8 (-5.08, 53.975) -> (-5.08, 1470.025)
  arc A10 (-5.08, 1470.025) -> (-53.975, 1518.92) centre (-53.975, 1470.025) ccw
  line L9 (-53.975, 1518.92) -> (-250.825, 1518.92)
  arc A11 (-250.825, 1518.92) -> (-299.72, 1470.025) centre (-250.825, 1470.025) ccw
  point P0 (0, 0)
  dimension "d25" = 5.08
extrude "Extrusion2" cut sketch "Sketch3" against normal blind 12.7 contours L0 A6 L1 A7 L2 A8 L3 A9
sketch "Sketch9" plane through (0, 22.225, 0) normal (0, 1, 0) x (1, 0, 0)
  line L0 (-218.0203, 368.0695) -> (-210.4225, 368.0695) construction
  line L1 (-210.4225, 368.0695) -> (-210.4225, 364.9079) construction
  line L2 (-210.4225, 364.9079) -> (-218.0203, 364.9079) construction
  line L3 (-218.0203, 364.9079) -> (-218.0203, 368.0695) construction
  line L4 (173.3464, 113.7892) -> (180.9442, 113.7892) construction
  line L5 (180.9442, 113.7892) -> (180.9442, 110.6276) construction
  line L6 (180.9442, 110.6276) -> (173.3464, 110.6276) construction
  line L7 (173.3464, 110.6276) -> (173.3464, 113.7892) construction
  line L8 (-274.32, 513.08) -> (-274.32, 13174.4282) construction
  line L9 (-274.32, 13174.4282) -> (8922.6527, 13174.4282) construction
  line L10 (8922.6527, 13174.4282) -> (8922.6527, 513.08) construction
  line L11 (8922.6527, 513.08) -> (-274.32, 513.08) construction
  line L12 (-251.3686, 562.4549) -> (-240.4288, 562.4549) construction
  line L13 (-240.4288, 562.4549) -> (-240.4288, 562.4549) construction
  line L14 (-240.4288, 562.4549) -> (-251.3686, 562.4549) construction
  line L15 (-251.3686, 562.4549) -> (-251.3686, 562.4549) construction
  line L16 (-299.72, 53.975) -> (-299.72, 1470.025) projected
  line L17 (-250.825, 0) -> (-53.975, 0) projected
  line L18 (-57.1562, 534.6926) -> (-270.5162, 534.6926)
  line L19 (-270.5162, 534.6926) -> (-270.5162, 668.1723)
  line L20 (-270.5162, 668.1723) -> (-245.2726, 668.1723)
  line L21 (-245.2726, 668.1723) -> (-245.2726, 563.0484)
  line L22 (-245.2726, 563.0484) -> (-186.832, 563.0484)
  line L23 (-186.832, 563.0484) -> (-186.832, 661.0834)
  line L24 (-186.832, 661.0834) -> (-161.5885, 661.0834)
  line L25 (-161.5885, 661.0834) -> (-161.5885, 563.0484)
  line L26 (-161.5885, 563.0484) -> (-82.3997, 563.0484)
  line L27 (-82.3997, 563.0484) -> (-82.3997, 668.1723)
  line L28 (-82.3997, 668.1723) -> (-57.1562, 668.1723)
  line L29 (-57.1562, 668.1723) -> (-57.1562, 534.6926)
  line L30 (-57.1562, 749.0901) -> (-245.2726, 749.0901)
  line L31 (-245.2726, 749.0901) -> (-245.2726, 677.509)
  line L32 (-245.2726, 677.509) -> (-270.5162, 677.509)
  line L33 (-270.5162, 677.509) -> (-270.5162, 849.0269)
  line L34 (-270.5162, 849.0269) -> (-245.2726, 849.0269)
  line L35 (-245.2726, 849.0269) -> (-245.2726, 777.4458)
  line L36 (-245.2726, 777.4458) -> (-57.1562, 777.4458)
  line L37 (-57.1562, 777.4458) -> (-57.1562, 749.0901)
  spline S0 degree 2 poles (-53.0065, 960.0294) (-53.0065, 937.3794) (-66.8386, 899.8598) (-80.8436, 886.3736) knots 0 0 0 1 2 2 2
  spline S1 degree 2 poles (-80.8436, 886.3736) (-95.0215, 872.8873) (-136.8636, 858.5365) (-164.0091, 858.5365) knots 0 0 0 1 2 2 2
  spline S2 degree 2 poles (-164.0091, 858.5365) (-189.7713, 858.5365) (-230.576, 873.0602) (-245.0997, 886.5465) knots 0 0 0 1 2 2 2
  spline S3 degree 2 poles (-245.0997, 886.5465) (-259.1047, 899.514) (-274.32, 937.5523) (-274.32, 960.2023) knots 0 0 0 1 2 2 2
  spline S4 degree 2 poles (-274.32, 960.2023) (-274.32, 971.0951) (-271.2078, 990.8058) (-268.4414, 999.7967) knots 0 0 0 1 2 2 2
  spline S5 degree 2 poles (-268.4414, 999.7967) (-266.3665, 1007.0586) (-258.7589, 1024.6945) (-255.9925, 1030.0544) knots 0 0 0 1 2 2 2
  line L38 (-255.9925, 1030.0544) -> (-221.7581, 1030.0544)
  line L39 (-221.7581, 1030.0544) -> (-221.7581, 1027.6338)
  spline S6 degree 2 poles (-221.7581, 1027.6338) (-226.4264, 1022.2739) (-234.8985, 1011.0353) (-239.7398, 1000.6612) knots 0 0 0 1 2 2 2
  spline S7 degree 2 poles (-239.7398, 1000.6612) (-244.0623, 992.0162) (-249.768, 969.7119) (-249.768, 956.9172) knots 0 0 0 1 2 2 2
  spline S8 degree 2 poles (-249.768, 956.9172) (-249.768, 926.1408) (-203.4305, 888.1026) (-164.8736, 888.1026) knots 0 0 0 1 2 2 2
  spline S9 degree 2 poles (-164.8736, 888.1026) (-143.4338, 888.1026) (-111.2742, 898.1308) (-100.2086, 907.6404) knots 0 0 0 1 2 2 2
  spline S10 degree 2 poles (-100.2086, 907.6404) (-89.1429, 916.8042) (-77.5585, 942.7393) (-77.5585, 958.992) knots 0 0 0 1 2 2 2
  spline S11 degree 2 poles (-77.5585, 958.992) (-77.5585, 970.9222) (-81.0165, 994.7826) (-84.4746, 1002.9089) knots 0 0 0 1 2 2 2
  line L40 (-84.4746, 1002.9089) -> (-139.63, 1002.9089)
  line L41 (-139.63, 1002.9089) -> (-139.63, 953.4592)
  line L42 (-139.63, 953.4592) -> (-164.5278, 953.4592)
  line L43 (-164.5278, 953.4592) -> (-164.5278, 1030.9189)
  line L44 (-164.5278, 1030.9189) -> (-71.3341, 1030.9189)
  spline S12 degree 2 poles (-71.3341, 1030.9189) (-68.9134, 1025.559) (-61.4787, 1007.2315) (-59.231, 999.4509) knots 0 0 0 1 2 2 2
  spline S13 degree 2 poles (-59.231, 999.4509) (-56.1188, 988.9039) (-53.0065, 971.9596) (-53.0065, 960.0294) knots 0 0 0 1 2 2 2
  point P0 (0, 0)
  dimension "d29" = 25.4
  dimension "d30" = 513.08
extrude "Extrusion3" cut sketch "Sketch9" against normal blind 25.4
properties part number "EtgSignModV3"
